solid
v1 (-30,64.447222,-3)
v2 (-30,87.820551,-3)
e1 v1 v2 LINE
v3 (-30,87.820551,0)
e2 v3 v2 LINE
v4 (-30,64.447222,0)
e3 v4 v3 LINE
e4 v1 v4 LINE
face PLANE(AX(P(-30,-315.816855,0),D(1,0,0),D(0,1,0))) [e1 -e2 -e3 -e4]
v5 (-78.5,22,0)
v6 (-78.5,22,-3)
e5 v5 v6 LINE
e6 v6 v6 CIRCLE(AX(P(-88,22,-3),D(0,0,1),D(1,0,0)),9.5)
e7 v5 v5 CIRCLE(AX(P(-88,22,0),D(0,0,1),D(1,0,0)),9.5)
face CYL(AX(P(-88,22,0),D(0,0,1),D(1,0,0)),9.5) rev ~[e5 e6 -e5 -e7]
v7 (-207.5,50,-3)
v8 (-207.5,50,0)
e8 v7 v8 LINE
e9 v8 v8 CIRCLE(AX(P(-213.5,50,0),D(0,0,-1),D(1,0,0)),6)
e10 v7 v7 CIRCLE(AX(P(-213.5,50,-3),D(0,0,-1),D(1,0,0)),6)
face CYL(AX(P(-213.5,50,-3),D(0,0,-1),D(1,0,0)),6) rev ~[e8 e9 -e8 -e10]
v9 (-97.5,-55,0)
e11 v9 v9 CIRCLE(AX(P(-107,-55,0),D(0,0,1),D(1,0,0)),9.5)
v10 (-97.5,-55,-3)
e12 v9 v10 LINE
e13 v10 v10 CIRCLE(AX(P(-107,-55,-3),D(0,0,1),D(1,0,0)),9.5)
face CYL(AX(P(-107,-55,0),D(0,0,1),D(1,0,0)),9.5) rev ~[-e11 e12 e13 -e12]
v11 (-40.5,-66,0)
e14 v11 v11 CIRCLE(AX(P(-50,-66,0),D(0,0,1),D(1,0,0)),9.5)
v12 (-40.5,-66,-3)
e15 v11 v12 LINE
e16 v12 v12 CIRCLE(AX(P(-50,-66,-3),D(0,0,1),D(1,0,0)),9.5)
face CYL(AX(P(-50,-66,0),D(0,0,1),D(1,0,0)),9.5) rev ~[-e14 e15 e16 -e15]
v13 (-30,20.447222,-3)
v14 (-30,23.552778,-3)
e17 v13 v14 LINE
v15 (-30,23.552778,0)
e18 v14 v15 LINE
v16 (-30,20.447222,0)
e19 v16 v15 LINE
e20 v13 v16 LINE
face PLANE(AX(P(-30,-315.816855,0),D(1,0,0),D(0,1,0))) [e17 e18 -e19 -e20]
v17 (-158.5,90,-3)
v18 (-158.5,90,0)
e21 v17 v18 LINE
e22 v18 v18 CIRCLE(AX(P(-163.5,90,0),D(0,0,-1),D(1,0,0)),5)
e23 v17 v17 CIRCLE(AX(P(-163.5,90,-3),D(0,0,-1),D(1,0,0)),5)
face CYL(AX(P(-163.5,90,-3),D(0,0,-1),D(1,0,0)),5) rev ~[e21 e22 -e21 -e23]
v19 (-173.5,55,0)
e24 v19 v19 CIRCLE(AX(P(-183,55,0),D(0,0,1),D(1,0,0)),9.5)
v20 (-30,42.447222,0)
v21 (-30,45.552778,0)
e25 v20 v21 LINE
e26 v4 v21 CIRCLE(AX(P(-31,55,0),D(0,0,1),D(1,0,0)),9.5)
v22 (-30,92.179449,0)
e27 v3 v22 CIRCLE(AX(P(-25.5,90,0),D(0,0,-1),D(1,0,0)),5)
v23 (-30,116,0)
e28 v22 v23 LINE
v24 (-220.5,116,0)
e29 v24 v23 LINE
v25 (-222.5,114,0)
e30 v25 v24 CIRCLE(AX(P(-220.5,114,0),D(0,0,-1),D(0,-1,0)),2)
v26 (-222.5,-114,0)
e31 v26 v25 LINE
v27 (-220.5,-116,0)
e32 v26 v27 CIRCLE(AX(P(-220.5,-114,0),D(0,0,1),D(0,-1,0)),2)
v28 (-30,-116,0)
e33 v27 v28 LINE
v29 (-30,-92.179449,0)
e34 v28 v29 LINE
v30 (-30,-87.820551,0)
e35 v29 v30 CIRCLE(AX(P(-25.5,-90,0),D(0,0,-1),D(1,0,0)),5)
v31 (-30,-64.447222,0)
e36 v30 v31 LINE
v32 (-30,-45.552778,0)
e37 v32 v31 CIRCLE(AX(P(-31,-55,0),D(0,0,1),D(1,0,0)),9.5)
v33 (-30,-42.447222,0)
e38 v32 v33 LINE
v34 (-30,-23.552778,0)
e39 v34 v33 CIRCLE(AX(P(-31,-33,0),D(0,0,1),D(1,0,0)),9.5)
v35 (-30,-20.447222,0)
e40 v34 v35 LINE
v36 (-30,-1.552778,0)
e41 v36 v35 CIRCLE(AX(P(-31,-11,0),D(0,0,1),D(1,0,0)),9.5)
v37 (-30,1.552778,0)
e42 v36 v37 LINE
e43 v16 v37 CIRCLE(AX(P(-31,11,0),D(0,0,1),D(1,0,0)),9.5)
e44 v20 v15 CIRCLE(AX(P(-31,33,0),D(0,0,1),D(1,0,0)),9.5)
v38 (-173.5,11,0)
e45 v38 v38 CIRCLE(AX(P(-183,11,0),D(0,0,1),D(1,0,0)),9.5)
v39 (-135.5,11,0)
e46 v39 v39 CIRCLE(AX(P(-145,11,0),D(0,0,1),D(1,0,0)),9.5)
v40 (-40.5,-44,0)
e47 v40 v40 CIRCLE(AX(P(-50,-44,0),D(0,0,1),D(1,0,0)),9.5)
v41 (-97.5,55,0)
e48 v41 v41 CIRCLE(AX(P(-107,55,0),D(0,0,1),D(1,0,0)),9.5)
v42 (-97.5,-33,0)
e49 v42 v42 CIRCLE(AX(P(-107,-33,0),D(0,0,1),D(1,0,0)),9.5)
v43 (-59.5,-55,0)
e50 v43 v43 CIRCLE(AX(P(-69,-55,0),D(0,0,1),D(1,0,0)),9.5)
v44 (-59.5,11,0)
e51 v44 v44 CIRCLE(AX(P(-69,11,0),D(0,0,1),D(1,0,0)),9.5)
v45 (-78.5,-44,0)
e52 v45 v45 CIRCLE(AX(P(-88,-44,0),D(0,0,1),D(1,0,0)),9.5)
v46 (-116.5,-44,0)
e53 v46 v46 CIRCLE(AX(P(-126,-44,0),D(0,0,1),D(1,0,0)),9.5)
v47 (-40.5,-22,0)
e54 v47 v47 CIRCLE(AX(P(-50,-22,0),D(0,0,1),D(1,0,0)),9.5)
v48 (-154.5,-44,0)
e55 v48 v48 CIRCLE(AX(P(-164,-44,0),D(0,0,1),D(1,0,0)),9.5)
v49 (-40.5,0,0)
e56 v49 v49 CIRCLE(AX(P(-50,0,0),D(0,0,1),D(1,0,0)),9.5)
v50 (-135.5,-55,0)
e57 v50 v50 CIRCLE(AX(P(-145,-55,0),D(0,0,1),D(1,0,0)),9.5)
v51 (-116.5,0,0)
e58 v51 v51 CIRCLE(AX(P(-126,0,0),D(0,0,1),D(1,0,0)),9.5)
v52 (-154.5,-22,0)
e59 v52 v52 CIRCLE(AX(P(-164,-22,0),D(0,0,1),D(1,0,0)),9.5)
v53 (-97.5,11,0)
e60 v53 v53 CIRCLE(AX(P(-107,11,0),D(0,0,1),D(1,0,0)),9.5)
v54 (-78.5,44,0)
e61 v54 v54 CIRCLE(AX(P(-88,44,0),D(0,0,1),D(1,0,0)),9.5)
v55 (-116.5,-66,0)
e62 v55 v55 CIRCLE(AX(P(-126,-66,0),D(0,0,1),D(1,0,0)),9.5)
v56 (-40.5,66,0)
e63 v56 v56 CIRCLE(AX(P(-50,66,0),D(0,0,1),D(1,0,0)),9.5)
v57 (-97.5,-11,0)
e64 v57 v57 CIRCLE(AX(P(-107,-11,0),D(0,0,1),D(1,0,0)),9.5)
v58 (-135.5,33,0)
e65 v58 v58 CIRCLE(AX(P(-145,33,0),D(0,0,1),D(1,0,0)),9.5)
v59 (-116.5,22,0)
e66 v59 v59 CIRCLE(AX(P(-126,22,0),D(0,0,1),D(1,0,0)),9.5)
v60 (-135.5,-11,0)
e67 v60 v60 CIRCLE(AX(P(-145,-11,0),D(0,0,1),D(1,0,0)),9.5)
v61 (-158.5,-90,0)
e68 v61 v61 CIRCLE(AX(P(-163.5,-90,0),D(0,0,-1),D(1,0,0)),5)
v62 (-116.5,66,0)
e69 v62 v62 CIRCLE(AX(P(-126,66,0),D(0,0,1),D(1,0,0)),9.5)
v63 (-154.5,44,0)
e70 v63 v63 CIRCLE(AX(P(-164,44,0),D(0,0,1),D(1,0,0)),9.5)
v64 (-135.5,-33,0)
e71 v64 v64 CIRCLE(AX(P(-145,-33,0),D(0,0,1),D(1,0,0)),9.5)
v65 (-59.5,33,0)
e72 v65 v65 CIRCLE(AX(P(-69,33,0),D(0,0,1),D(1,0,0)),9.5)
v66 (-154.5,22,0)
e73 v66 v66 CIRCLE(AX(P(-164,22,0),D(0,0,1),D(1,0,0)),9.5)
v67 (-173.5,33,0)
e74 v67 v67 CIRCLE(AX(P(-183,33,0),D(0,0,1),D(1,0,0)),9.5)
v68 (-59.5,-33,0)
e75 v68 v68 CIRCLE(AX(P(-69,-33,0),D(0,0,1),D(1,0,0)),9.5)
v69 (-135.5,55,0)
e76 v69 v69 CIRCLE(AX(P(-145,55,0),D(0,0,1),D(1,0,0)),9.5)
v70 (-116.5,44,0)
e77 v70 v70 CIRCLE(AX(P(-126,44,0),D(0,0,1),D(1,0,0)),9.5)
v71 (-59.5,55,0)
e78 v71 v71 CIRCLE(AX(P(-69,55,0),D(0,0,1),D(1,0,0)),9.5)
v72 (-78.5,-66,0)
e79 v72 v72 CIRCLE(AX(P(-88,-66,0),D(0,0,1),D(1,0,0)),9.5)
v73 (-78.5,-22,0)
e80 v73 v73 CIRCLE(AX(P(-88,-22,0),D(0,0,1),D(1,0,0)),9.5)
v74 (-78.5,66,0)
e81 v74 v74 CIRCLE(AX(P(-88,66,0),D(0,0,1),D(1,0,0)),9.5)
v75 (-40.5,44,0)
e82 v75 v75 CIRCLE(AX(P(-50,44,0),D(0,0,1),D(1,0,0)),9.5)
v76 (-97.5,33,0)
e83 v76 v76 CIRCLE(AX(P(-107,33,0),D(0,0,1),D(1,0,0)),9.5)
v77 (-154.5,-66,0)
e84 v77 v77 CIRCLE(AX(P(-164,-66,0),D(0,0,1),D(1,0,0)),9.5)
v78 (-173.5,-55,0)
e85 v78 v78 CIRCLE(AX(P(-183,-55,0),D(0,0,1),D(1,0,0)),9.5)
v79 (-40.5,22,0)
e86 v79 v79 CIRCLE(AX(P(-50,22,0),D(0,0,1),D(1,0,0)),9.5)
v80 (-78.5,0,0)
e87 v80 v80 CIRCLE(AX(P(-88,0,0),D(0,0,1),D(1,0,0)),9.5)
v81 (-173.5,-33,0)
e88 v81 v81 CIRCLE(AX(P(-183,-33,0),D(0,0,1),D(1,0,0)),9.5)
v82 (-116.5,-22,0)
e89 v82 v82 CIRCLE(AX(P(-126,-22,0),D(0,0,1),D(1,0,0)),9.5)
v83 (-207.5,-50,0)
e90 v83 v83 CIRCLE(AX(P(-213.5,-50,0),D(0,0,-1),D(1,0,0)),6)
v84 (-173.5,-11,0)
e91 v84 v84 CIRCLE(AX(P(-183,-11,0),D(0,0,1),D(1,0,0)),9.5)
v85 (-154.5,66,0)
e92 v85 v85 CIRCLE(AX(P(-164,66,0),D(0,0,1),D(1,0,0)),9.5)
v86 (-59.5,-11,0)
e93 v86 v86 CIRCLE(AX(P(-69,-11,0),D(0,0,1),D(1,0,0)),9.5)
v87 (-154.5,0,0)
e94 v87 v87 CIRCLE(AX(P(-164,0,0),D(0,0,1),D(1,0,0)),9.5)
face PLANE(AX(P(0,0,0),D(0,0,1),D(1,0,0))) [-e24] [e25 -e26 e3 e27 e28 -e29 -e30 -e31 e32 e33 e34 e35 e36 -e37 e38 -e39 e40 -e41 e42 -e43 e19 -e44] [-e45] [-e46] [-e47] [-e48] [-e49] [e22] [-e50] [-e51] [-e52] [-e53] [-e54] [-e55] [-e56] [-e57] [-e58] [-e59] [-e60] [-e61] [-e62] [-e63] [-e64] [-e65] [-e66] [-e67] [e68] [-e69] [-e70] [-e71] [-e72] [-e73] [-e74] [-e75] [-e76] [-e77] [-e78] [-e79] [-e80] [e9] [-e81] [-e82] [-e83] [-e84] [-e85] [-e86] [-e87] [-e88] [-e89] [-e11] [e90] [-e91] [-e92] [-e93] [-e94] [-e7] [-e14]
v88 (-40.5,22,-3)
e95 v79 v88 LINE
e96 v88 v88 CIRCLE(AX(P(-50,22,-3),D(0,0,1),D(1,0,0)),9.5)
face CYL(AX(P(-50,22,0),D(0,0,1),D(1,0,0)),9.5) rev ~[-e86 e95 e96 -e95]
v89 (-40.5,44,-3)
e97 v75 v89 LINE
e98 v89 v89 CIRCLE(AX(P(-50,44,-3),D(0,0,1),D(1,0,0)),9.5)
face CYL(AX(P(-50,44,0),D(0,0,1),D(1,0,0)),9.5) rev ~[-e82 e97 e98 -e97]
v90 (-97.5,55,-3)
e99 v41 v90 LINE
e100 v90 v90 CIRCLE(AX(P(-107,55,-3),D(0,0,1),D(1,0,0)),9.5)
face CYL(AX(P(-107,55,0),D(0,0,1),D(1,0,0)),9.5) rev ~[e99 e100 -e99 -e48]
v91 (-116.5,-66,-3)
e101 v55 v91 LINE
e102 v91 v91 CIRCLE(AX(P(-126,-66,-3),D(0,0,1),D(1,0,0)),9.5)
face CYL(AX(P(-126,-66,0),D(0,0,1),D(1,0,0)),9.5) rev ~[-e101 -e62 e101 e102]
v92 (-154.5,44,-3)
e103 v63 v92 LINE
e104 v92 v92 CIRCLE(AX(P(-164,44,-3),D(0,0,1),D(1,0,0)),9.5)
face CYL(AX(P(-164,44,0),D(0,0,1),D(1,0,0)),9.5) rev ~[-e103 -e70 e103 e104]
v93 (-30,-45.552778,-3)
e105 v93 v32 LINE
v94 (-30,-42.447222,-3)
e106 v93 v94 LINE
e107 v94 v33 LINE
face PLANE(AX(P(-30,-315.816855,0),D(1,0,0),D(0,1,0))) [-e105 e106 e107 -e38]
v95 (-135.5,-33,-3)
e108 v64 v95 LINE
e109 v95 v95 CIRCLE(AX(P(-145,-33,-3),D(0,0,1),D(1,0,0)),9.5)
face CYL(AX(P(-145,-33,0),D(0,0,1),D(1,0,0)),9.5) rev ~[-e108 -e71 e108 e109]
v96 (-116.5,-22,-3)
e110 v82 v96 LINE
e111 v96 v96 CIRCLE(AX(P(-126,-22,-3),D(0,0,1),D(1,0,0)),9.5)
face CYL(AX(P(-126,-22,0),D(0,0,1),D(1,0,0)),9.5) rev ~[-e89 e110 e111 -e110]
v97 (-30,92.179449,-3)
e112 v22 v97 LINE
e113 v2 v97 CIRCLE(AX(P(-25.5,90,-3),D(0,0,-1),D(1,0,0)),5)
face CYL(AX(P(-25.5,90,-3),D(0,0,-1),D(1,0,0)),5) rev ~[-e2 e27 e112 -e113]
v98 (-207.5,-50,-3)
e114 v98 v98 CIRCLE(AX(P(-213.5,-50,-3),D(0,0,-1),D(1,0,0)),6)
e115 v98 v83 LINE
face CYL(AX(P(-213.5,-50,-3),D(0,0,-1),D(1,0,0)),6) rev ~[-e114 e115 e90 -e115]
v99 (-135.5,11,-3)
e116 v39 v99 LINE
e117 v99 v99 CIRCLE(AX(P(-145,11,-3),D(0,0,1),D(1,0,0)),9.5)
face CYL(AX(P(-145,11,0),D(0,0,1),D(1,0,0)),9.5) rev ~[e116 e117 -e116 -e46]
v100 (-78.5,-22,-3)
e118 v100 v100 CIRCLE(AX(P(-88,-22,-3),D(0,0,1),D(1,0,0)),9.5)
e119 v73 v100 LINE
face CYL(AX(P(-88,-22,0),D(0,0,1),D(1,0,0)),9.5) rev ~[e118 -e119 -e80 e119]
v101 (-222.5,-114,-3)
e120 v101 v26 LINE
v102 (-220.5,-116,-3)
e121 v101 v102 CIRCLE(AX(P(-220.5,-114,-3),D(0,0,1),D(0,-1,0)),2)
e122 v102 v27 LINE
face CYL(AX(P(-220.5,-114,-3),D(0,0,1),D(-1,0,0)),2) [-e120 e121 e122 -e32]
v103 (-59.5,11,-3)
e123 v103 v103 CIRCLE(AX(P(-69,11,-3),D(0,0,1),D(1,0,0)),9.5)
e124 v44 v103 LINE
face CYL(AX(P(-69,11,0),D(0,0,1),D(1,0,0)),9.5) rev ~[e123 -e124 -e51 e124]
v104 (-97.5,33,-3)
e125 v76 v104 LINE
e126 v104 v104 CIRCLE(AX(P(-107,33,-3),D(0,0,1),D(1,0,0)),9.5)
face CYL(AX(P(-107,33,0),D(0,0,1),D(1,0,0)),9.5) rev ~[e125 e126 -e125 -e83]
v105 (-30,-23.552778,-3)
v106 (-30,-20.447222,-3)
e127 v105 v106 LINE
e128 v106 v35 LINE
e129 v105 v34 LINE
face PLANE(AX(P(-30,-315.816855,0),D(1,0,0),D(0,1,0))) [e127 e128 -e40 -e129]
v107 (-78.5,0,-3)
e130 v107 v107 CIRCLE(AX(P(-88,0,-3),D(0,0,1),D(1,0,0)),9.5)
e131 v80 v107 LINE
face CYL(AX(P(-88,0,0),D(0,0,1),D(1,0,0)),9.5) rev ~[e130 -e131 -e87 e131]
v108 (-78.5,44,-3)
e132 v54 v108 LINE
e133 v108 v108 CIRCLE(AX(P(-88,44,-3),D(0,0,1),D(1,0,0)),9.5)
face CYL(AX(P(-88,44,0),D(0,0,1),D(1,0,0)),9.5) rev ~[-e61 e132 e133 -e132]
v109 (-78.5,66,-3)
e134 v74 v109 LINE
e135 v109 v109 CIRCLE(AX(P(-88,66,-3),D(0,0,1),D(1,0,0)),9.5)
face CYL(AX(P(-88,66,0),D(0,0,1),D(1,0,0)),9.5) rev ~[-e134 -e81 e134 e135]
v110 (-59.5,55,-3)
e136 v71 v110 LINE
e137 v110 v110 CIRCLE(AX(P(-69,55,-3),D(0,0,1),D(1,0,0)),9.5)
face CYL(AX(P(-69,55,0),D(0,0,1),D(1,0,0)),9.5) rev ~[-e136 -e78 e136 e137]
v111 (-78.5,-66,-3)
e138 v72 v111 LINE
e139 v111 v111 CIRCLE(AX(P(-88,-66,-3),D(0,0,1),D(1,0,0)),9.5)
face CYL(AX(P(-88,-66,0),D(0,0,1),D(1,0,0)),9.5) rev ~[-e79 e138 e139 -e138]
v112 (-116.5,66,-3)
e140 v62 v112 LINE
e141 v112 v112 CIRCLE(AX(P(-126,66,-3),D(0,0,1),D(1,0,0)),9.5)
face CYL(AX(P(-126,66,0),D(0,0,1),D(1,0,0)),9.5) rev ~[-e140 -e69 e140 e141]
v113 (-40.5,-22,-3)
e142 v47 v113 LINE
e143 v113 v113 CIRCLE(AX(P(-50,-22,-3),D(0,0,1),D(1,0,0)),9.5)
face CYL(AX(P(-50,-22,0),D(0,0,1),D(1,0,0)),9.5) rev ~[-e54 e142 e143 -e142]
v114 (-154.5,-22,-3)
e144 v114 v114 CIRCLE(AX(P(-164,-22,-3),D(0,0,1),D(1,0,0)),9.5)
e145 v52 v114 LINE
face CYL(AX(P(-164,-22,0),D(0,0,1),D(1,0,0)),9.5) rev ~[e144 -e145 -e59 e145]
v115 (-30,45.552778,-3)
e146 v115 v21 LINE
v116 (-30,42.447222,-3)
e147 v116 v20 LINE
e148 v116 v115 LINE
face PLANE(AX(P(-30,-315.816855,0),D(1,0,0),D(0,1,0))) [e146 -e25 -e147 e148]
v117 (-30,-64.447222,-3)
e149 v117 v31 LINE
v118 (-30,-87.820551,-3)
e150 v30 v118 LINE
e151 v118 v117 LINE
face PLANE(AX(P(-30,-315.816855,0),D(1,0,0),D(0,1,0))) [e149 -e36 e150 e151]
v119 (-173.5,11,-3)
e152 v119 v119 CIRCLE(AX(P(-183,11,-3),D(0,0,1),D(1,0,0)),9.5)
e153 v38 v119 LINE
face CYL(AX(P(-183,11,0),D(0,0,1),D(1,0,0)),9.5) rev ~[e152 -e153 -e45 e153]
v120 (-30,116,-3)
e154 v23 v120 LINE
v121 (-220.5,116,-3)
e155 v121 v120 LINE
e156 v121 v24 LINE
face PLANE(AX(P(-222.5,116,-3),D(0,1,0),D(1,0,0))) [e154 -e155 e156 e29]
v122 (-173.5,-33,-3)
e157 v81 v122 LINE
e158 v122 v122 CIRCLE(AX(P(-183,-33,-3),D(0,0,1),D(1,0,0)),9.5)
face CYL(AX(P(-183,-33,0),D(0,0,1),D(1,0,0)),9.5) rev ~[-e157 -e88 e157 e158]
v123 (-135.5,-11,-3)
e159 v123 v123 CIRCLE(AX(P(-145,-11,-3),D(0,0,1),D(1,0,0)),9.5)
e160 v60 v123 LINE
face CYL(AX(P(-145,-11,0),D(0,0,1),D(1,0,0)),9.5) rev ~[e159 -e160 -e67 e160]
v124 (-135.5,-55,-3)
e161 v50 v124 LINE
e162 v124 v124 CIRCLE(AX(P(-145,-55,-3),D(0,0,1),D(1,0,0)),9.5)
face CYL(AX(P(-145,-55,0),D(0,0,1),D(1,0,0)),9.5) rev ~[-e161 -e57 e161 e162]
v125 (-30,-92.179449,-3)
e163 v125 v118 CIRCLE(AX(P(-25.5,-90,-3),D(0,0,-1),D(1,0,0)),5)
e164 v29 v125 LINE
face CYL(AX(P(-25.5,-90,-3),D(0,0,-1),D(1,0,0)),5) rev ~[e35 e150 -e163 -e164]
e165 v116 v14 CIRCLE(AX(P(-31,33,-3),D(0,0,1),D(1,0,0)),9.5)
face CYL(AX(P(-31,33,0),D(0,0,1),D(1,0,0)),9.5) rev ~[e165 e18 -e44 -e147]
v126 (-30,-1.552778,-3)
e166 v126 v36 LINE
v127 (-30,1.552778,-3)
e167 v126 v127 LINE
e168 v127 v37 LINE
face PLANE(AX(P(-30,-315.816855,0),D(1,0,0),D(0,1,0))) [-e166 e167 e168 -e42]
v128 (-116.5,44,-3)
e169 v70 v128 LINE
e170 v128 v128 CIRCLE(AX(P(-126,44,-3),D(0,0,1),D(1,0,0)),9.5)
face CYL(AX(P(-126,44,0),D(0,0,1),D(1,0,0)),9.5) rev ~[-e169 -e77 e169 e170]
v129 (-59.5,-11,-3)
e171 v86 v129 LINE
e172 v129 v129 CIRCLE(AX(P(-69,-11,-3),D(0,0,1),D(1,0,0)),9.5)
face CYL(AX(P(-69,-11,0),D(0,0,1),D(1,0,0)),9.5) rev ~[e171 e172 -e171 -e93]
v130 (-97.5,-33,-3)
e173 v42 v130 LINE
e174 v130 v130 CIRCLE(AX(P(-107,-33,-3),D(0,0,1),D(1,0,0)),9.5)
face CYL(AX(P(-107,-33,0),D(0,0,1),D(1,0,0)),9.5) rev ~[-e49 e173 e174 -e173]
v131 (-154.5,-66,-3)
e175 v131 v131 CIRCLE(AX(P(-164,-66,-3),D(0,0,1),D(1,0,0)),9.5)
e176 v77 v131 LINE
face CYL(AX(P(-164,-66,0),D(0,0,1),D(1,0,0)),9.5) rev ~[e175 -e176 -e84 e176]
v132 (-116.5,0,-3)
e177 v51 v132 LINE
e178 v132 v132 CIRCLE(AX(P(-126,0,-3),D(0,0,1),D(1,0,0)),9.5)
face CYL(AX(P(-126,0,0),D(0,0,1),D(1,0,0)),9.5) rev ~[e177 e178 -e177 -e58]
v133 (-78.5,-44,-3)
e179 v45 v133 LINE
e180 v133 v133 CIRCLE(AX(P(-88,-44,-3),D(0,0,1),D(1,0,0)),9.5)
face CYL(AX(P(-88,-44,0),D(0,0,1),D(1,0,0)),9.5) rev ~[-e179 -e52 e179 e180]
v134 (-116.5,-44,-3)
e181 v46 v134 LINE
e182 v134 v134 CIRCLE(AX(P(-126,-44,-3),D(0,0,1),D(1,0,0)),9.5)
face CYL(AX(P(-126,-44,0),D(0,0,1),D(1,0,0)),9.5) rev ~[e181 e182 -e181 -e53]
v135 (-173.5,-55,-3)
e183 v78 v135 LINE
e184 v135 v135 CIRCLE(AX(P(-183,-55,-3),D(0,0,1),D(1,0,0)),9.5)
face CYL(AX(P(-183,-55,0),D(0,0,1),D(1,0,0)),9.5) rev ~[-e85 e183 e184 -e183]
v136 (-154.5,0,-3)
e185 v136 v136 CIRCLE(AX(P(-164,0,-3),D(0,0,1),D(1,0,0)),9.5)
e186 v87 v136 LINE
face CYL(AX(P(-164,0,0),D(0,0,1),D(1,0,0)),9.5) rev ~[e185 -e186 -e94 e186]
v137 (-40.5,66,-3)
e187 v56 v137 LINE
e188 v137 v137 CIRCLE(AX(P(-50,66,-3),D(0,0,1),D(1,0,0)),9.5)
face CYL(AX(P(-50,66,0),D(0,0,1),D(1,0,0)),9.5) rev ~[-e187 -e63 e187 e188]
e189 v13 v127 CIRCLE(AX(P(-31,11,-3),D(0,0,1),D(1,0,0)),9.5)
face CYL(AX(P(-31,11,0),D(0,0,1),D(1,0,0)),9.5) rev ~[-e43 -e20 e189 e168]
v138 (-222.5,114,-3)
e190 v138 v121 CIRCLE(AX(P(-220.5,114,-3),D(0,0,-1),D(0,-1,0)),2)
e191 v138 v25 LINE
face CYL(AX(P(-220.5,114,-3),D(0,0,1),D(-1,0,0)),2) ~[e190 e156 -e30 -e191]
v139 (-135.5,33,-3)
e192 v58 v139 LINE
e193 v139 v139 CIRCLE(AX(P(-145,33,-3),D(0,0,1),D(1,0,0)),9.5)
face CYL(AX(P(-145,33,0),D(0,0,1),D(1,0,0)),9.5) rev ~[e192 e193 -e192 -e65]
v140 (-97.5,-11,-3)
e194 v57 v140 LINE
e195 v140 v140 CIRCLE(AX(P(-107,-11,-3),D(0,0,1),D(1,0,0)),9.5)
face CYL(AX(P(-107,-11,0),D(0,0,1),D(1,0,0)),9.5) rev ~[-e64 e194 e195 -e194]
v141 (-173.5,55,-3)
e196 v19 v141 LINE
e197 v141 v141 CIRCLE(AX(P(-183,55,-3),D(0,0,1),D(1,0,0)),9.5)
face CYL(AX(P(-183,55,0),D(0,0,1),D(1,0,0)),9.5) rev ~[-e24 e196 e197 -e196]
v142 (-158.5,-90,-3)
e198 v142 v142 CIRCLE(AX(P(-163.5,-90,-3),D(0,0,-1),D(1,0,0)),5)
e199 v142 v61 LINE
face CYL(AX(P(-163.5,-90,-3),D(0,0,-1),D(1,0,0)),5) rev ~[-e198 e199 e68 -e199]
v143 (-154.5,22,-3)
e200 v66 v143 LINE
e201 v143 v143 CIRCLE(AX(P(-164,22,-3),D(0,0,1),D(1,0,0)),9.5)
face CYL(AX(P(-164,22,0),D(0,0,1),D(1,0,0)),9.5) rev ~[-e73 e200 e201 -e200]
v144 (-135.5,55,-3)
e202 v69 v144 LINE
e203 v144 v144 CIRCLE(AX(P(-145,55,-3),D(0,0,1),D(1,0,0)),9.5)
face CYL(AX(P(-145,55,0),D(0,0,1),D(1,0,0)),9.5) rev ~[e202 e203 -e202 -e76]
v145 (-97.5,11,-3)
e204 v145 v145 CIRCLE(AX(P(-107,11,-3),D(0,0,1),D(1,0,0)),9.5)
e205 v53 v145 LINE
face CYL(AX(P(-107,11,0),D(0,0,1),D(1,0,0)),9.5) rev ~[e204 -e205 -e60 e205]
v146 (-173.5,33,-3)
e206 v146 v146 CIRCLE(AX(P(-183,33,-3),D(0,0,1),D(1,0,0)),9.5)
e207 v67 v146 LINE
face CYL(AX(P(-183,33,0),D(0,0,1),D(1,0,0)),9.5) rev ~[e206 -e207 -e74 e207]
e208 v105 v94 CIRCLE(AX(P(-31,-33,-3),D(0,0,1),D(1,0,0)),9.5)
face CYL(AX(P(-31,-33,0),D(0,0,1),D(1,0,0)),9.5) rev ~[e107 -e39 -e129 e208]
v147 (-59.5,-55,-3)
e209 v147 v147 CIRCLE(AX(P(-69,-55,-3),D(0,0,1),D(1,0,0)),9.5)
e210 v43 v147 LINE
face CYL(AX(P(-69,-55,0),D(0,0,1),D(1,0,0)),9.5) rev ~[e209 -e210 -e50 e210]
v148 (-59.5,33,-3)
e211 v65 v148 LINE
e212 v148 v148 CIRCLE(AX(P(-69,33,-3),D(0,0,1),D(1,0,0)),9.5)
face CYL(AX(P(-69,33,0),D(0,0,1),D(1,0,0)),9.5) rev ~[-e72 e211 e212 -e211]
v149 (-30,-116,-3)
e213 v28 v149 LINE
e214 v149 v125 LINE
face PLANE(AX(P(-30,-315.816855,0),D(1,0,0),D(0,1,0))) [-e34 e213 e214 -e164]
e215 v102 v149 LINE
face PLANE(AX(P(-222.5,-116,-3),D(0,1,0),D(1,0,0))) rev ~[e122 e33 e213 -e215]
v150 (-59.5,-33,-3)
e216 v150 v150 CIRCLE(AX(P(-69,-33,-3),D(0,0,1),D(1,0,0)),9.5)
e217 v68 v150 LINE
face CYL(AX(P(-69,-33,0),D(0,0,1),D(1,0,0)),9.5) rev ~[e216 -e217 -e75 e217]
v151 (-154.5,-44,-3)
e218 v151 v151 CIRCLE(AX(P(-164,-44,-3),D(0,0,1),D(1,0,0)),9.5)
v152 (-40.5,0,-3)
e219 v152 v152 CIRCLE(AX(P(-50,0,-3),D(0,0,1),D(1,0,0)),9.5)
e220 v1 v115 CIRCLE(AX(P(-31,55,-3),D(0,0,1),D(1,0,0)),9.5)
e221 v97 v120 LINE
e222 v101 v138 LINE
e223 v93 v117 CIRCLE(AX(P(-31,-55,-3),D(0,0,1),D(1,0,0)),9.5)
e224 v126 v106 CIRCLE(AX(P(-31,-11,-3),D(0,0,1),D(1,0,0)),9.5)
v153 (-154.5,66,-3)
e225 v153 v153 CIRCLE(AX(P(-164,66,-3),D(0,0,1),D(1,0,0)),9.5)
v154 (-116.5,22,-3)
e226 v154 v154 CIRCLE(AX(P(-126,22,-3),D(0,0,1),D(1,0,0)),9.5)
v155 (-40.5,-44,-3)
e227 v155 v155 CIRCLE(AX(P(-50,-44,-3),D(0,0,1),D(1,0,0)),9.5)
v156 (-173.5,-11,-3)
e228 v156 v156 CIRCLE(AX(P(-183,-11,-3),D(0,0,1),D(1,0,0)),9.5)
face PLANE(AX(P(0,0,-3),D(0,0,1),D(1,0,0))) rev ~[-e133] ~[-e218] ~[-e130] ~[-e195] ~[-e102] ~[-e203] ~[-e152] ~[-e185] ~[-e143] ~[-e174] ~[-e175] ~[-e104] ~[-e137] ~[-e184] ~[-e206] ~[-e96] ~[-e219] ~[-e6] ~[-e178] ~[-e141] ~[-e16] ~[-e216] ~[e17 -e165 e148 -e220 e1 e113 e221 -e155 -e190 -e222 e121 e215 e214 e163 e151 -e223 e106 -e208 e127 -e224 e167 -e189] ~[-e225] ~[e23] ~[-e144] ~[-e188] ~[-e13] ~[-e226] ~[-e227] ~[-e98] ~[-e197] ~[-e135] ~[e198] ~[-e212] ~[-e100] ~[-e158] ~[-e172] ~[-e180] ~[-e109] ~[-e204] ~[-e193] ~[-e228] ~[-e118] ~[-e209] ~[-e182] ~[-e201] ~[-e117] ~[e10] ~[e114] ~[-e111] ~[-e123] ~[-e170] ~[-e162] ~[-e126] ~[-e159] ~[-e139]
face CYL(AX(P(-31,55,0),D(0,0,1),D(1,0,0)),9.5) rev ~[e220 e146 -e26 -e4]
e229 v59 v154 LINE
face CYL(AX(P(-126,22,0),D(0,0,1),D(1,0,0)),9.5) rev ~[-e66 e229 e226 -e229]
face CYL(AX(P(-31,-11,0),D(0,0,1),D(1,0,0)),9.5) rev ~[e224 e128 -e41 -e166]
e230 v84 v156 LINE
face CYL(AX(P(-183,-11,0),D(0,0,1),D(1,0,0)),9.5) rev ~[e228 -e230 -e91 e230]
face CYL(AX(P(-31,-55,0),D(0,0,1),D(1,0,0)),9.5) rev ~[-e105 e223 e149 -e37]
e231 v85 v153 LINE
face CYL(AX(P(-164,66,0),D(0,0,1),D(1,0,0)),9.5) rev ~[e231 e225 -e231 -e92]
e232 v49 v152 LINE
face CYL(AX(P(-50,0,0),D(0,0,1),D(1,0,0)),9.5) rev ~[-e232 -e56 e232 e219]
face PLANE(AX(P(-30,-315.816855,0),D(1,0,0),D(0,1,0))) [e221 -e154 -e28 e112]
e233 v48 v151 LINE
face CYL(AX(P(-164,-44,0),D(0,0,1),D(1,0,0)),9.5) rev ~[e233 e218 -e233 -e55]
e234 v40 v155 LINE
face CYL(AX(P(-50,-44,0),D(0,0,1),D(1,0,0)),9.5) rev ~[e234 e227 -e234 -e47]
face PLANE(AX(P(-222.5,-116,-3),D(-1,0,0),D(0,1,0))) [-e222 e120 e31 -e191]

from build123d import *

# Parameters (mm, degrees)
SKETCH090_W     = 445
SKETCH090_H     = 232
PAD027_DEPTH    = 3
SKETCH091_R     = 9.5
POCKET060_DEPTH = 5
FILLET012_R     = 2
POCKET061_DEPTH = 10.001
SKETCH093_R     = 6
SKETCH093_R_2   = 5
POCKET062_DEPTH = 5
SKETCH096_W     = 453.694824
SKETCH096_H     = 509.793549
POCKET065_DEPTH = 5


with BuildPart() as part:
    # Sketch090 → Pad027 (new body)
    with BuildSketch(Plane.XY):
        Rectangle(SKETCH090_W, SKETCH090_H)
    extrude(amount=PAD027_DEPTH)

    # Sketch091 (on Face6 of Pad027) → Pocket060 (cut)
    with BuildSketch(Plane.XY.offset(3)):
        with Locations((-183, 55)):
            Circle(SKETCH091_R)
        with Locations((-183, 33)):
            Circle(SKETCH091_R)
        with Locations((-183, 11)):
            Circle(SKETCH091_R)
        with Locations((-183, -11)):
            Circle(SKETCH091_R)
        with Locations((-183, -33)):
            Circle(SKETCH091_R)
        with Locations((-183, -55)):
            Circle(SKETCH091_R)
        with Locations((-164, 44)):
            Circle(SKETCH091_R)
        with Locations((-164, 22)):
            Circle(SKETCH091_R)
        with Locations((-164, 0)):
            Circle(SKETCH091_R)
        with Locations((-164, -22)):
            Circle(SKETCH091_R)
        with Locations((-164, -44)):
            Circle(SKETCH091_R)
        with Locations((-145, 55)):
            Circle(SKETCH091_R)
        with Locations((-145, 33)):
            Circle(SKETCH091_R)
        with Locations((-145, 11)):
            Circle(SKETCH091_R)
        with Locations((-145, -11)):
            Circle(SKETCH091_R)
        with Locations((-145, -33)):
            Circle(SKETCH091_R)
        with Locations((-145, -55)):
            Circle(SKETCH091_R)
        with Locations((-126, 44)):
            Circle(SKETCH091_R)
        with Locations((-126, 22)):
            Circle(SKETCH091_R)
        with Locations((-126, 0)):
            Circle(SKETCH091_R)
        with Locations((-126, -22)):
            Circle(SKETCH091_R)
        with Locations((-126, -44)):
            Circle(SKETCH091_R)
        with Locations((-107, 55)):
            Circle(SKETCH091_R)
        with Locations((-107, 33)):
            Circle(SKETCH091_R)
        with Locations((-107, 11)):
            Circle(SKETCH091_R)
        with Locations((-107, -11)):
            Circle(SKETCH091_R)
        with Locations((-107, -33)):
            Circle(SKETCH091_R)
        with Locations((-107, -55)):
            Circle(SKETCH091_R)
        with Locations((-88, -44)):
            Circle(SKETCH091_R)
        with Locations((-88, -22)):
            Circle(SKETCH091_R)
        with Locations((-88, 0)):
            Circle(SKETCH091_R)
        with Locations((-88, 22)):
            Circle(SKETCH091_R)
        with Locations((-88, 44)):
            Circle(SKETCH091_R)
        with Locations((-69, 55)):
            Circle(SKETCH091_R)
        with Locations((-69, 33)):
            Circle(SKETCH091_R)
        with Locations((-69, 11)):
            Circle(SKETCH091_R)
        with Locations((-69, -11)):
            Circle(SKETCH091_R)
        with Locations((-69, -33)):
            Circle(SKETCH091_R)
        with Locations((-50, 44)):
            Circle(SKETCH091_R)
        with Locations((-50, 22)):
            Circle(SKETCH091_R)
        with Locations((-50, 0)):
            Circle(SKETCH091_R)
        with Locations((-50, -22)):
            Circle(SKETCH091_R)
        with Locations((-50, -44)):
            Circle(SKETCH091_R)
        with Locations((-69, -55)):
            Circle(SKETCH091_R)
        with Locations((-31, 55)):
            Circle(SKETCH091_R)
        with Locations((-31, 33)):
            Circle(SKETCH091_R)
        with Locations((-31, 11)):
            Circle(SKETCH091_R)
        with Locations((-31, -11)):
            Circle(SKETCH091_R)
        with Locations((-31, -33)):
            Circle(SKETCH091_R)
        with Locations((-31, -55)):
            Circle(SKETCH091_R)
        with Locations((-12, -44)):
            Circle(SKETCH091_R)
        with Locations((-12, -22)):
            Circle(SKETCH091_R)
        with Locations((-12, 0)):
            Circle(SKETCH091_R)
        with Locations((-12, 22)):
            Circle(SKETCH091_R)
        with Locations((-12, 44)):
            Circle(SKETCH091_R)
        with Locations((7, 55)):
            Circle(SKETCH091_R)
        with Locations((7, 33)):
            Circle(SKETCH091_R)
        with Locations((7, 11)):
            Circle(SKETCH091_R)
        with Locations((7, -11)):
            Circle(SKETCH091_R)
        with Locations((7, -33)):
            Circle(SKETCH091_R)
        with Locations((7, -55)):
            Circle(SKETCH091_R)
        with Locations((26, -44)):
            Circle(SKETCH091_R)
        with Locations((26, -22)):
            Circle(SKETCH091_R)
        with Locations((26, 0)):
            Circle(SKETCH091_R)
        with Locations((26, 22)):
            Circle(SKETCH091_R)
        with Locations((26, 44)):
            Circle(SKETCH091_R)
        with Locations((45, 55)):
            Circle(SKETCH091_R)
        with Locations((45, 33)):
            Circle(SKETCH091_R)
        with Locations((45, 11)):
            Circle(SKETCH091_R)
        with Locations((45, -11)):
            Circle(SKETCH091_R)
        with Locations((64, 0)):
            Circle(SKETCH091_R)
        with Locations((64, 22)):
            Circle(SKETCH091_R)
        with Locations((64, 44)):
            Circle(SKETCH091_R)
        with Locations((45, -33)):
            Circle(SKETCH091_R)
        with Locations((45, -55)):
            Circle(SKETCH091_R)
        with Locations((64, -44)):
            Circle(SKETCH091_R)
        with Locations((64, -22)):
            Circle(SKETCH091_R)
        with Locations((83, 55)):
            Circle(SKETCH091_R)
        with Locations((83, 33)):
            Circle(SKETCH091_R)
        with Locations((83, 11)):
            Circle(SKETCH091_R)
        with Locations((83, -11)):
            Circle(SKETCH091_R)
        with Locations((83, -33)):
            Circle(SKETCH091_R)
        with Locations((83, -55)):
            Circle(SKETCH091_R)
        with Locations((102, 44)):
            Circle(SKETCH091_R)
        with Locations((102, 22)):
            Circle(SKETCH091_R)
        with Locations((102, 0)):
            Circle(SKETCH091_R)
        with Locations((102, -22)):
            Circle(SKETCH091_R)
        with Locations((102, -44)):
            Circle(SKETCH091_R)
        with Locations((121, 55)):
            Circle(SKETCH091_R)
        with Locations((121, 33)):
            Circle(SKETCH091_R)
        with Locations((121, 11)):
            Circle(SKETCH091_R)
        with Locations((121, -11)):
            Circle(SKETCH091_R)
        with Locations((121, -33)):
            Circle(SKETCH091_R)
        with Locations((121, -55)):
            Circle(SKETCH091_R)
        with Locations((140, 44)):
            Circle(SKETCH091_R)
        with Locations((140, 22)):
            Circle(SKETCH091_R)
        with Locations((140, 0)):
            Circle(SKETCH091_R)
        with Locations((140, -22)):
            Circle(SKETCH091_R)
        with Locations((140, -44)):
            Circle(SKETCH091_R)
        with Locations((159, 55)):
            Circle(SKETCH091_R)
        with Locations((159, 33)):
            Circle(SKETCH091_R)
        with Locations((159, 11)):
            Circle(SKETCH091_R)
        with Locations((159, -11)):
            Circle(SKETCH091_R)
        with Locations((159, -33)):
            Circle(SKETCH091_R)
        with Locations((159, -55)):
            Circle(SKETCH091_R)
        with Locations((-164, 66)):
            Circle(SKETCH091_R)
        with Locations((-126, 66)):
            Circle(SKETCH091_R)
        with Locations((-88, 66)):
            Circle(SKETCH091_R)
        with Locations((-50, 66)):
            Circle(SKETCH091_R)
        with Locations((-12, 66)):
            Circle(SKETCH091_R)
        with Locations((26, 66)):
            Circle(SKETCH091_R)
        with Locations((64, 66)):
            Circle(SKETCH091_R)
        with Locations((102, 66)):
            Circle(SKETCH091_R)
        with Locations((140, 66)):
            Circle(SKETCH091_R)
        with Locations((-164, -66)):
            Circle(SKETCH091_R)
        with Locations((-126, -66)):
            Circle(SKETCH091_R)
        with Locations((-88, -66)):
            Circle(SKETCH091_R)
        with Locations((-50, -66)):
            Circle(SKETCH091_R)
        with Locations((-12, -66)):
            Circle(SKETCH091_R)
        with Locations((26, -66)):
            Circle(SKETCH091_R)
        with Locations((64, -66)):
            Circle(SKETCH091_R)
        with Locations((102, -66)):
            Circle(SKETCH091_R)
        with Locations((140, -66)):
            Circle(SKETCH091_R)
        with Locations((178, 66)):
            Circle(SKETCH091_R)
        with Locations((178, 44)):
            Circle(SKETCH091_R)
        with Locations((178, 22)):
            Circle(SKETCH091_R)
        with Locations((178, 0)):
            Circle(SKETCH091_R)
        with Locations((178, -22)):
            Circle(SKETCH091_R)
        with Locations((178, -44)):
            Circle(SKETCH091_R)
        with Locations((178, -66)):
            Circle(SKETCH091_R)
    extrude(amount=-POCKET060_DEPTH, mode=Mode.SUBTRACT)

    # Fillet012
    fillet012_edges = [part.edges().sort_by_distance(p)[0] for p in [
        (-222.5, -116, 1.5),
        (222.5, -116, 1.5),
        (222.5, 116, 1.5),
        (-222.5, 116, 1.5),
    ]]
    fillet(fillet012_edges, radius=FILLET012_R)

    # Sketch092 → Pocket061 (cut, through all)
    with BuildSketch(Plane.XY.offset(10)):
        Polygon((188.873749, -62), (214.664444, -62), (214.664444, 62), (188.873749, 62), (188.873749, 11.724954), (183.462372, 4.250606), (183.462372, -4.752587), (188.873749, -11.972128), align=None)
    extrude(amount=-POCKET061_DEPTH, mode=Mode.SUBTRACT)

    # Sketch093 (on Face2 of Pocket061) → Pocket062 (cut)
    with BuildSketch(Plane(origin=(0, 0, 0), x_dir=(1, 0, 0), z_dir=(0, 0, -1))):
        with Locations((213.5, 50)):
            Circle(SKETCH093_R)
        with Locations((213.5, -50)):
            Circle(SKETCH093_R)
        with Locations((-213.5, 50)):
            Circle(SKETCH093_R)
        with Locations((-213.5, -50)):
            Circle(SKETCH093_R)
        with Locations((-163.5, 90)):
            Circle(SKETCH093_R_2)
        with Locations((-25.5, 90)):
            Circle(SKETCH093_R_2)
        with Locations((163.5, 90)):
            Circle(SKETCH093_R_2)
        with Locations((163.5, -90)):
            Circle(SKETCH093_R_2)
        with Locations((-25.5, -90)):
            Circle(SKETCH093_R_2)
        with Locations((-163.5, -90)):
            Circle(SKETCH093_R_2)
    extrude(amount=-POCKET062_DEPTH, mode=Mode.SUBTRACT)

    # Sketch096 (on Face5 of Pocket062) → Pocket065 (cut)
    with BuildSketch(Plane.XY.offset(3)):
        with Locations((196.847412, -60.920081)):
            Rectangle(SKETCH096_W, SKETCH096_H)
    extrude(amount=-POCKET065_DEPTH, mode=Mode.SUBTRACT)


with BuildPart() as part_1:
    # Body023 placement: moved
    add(part.part.moved(Location((0, 0, -3))))


solid = part_1.part
